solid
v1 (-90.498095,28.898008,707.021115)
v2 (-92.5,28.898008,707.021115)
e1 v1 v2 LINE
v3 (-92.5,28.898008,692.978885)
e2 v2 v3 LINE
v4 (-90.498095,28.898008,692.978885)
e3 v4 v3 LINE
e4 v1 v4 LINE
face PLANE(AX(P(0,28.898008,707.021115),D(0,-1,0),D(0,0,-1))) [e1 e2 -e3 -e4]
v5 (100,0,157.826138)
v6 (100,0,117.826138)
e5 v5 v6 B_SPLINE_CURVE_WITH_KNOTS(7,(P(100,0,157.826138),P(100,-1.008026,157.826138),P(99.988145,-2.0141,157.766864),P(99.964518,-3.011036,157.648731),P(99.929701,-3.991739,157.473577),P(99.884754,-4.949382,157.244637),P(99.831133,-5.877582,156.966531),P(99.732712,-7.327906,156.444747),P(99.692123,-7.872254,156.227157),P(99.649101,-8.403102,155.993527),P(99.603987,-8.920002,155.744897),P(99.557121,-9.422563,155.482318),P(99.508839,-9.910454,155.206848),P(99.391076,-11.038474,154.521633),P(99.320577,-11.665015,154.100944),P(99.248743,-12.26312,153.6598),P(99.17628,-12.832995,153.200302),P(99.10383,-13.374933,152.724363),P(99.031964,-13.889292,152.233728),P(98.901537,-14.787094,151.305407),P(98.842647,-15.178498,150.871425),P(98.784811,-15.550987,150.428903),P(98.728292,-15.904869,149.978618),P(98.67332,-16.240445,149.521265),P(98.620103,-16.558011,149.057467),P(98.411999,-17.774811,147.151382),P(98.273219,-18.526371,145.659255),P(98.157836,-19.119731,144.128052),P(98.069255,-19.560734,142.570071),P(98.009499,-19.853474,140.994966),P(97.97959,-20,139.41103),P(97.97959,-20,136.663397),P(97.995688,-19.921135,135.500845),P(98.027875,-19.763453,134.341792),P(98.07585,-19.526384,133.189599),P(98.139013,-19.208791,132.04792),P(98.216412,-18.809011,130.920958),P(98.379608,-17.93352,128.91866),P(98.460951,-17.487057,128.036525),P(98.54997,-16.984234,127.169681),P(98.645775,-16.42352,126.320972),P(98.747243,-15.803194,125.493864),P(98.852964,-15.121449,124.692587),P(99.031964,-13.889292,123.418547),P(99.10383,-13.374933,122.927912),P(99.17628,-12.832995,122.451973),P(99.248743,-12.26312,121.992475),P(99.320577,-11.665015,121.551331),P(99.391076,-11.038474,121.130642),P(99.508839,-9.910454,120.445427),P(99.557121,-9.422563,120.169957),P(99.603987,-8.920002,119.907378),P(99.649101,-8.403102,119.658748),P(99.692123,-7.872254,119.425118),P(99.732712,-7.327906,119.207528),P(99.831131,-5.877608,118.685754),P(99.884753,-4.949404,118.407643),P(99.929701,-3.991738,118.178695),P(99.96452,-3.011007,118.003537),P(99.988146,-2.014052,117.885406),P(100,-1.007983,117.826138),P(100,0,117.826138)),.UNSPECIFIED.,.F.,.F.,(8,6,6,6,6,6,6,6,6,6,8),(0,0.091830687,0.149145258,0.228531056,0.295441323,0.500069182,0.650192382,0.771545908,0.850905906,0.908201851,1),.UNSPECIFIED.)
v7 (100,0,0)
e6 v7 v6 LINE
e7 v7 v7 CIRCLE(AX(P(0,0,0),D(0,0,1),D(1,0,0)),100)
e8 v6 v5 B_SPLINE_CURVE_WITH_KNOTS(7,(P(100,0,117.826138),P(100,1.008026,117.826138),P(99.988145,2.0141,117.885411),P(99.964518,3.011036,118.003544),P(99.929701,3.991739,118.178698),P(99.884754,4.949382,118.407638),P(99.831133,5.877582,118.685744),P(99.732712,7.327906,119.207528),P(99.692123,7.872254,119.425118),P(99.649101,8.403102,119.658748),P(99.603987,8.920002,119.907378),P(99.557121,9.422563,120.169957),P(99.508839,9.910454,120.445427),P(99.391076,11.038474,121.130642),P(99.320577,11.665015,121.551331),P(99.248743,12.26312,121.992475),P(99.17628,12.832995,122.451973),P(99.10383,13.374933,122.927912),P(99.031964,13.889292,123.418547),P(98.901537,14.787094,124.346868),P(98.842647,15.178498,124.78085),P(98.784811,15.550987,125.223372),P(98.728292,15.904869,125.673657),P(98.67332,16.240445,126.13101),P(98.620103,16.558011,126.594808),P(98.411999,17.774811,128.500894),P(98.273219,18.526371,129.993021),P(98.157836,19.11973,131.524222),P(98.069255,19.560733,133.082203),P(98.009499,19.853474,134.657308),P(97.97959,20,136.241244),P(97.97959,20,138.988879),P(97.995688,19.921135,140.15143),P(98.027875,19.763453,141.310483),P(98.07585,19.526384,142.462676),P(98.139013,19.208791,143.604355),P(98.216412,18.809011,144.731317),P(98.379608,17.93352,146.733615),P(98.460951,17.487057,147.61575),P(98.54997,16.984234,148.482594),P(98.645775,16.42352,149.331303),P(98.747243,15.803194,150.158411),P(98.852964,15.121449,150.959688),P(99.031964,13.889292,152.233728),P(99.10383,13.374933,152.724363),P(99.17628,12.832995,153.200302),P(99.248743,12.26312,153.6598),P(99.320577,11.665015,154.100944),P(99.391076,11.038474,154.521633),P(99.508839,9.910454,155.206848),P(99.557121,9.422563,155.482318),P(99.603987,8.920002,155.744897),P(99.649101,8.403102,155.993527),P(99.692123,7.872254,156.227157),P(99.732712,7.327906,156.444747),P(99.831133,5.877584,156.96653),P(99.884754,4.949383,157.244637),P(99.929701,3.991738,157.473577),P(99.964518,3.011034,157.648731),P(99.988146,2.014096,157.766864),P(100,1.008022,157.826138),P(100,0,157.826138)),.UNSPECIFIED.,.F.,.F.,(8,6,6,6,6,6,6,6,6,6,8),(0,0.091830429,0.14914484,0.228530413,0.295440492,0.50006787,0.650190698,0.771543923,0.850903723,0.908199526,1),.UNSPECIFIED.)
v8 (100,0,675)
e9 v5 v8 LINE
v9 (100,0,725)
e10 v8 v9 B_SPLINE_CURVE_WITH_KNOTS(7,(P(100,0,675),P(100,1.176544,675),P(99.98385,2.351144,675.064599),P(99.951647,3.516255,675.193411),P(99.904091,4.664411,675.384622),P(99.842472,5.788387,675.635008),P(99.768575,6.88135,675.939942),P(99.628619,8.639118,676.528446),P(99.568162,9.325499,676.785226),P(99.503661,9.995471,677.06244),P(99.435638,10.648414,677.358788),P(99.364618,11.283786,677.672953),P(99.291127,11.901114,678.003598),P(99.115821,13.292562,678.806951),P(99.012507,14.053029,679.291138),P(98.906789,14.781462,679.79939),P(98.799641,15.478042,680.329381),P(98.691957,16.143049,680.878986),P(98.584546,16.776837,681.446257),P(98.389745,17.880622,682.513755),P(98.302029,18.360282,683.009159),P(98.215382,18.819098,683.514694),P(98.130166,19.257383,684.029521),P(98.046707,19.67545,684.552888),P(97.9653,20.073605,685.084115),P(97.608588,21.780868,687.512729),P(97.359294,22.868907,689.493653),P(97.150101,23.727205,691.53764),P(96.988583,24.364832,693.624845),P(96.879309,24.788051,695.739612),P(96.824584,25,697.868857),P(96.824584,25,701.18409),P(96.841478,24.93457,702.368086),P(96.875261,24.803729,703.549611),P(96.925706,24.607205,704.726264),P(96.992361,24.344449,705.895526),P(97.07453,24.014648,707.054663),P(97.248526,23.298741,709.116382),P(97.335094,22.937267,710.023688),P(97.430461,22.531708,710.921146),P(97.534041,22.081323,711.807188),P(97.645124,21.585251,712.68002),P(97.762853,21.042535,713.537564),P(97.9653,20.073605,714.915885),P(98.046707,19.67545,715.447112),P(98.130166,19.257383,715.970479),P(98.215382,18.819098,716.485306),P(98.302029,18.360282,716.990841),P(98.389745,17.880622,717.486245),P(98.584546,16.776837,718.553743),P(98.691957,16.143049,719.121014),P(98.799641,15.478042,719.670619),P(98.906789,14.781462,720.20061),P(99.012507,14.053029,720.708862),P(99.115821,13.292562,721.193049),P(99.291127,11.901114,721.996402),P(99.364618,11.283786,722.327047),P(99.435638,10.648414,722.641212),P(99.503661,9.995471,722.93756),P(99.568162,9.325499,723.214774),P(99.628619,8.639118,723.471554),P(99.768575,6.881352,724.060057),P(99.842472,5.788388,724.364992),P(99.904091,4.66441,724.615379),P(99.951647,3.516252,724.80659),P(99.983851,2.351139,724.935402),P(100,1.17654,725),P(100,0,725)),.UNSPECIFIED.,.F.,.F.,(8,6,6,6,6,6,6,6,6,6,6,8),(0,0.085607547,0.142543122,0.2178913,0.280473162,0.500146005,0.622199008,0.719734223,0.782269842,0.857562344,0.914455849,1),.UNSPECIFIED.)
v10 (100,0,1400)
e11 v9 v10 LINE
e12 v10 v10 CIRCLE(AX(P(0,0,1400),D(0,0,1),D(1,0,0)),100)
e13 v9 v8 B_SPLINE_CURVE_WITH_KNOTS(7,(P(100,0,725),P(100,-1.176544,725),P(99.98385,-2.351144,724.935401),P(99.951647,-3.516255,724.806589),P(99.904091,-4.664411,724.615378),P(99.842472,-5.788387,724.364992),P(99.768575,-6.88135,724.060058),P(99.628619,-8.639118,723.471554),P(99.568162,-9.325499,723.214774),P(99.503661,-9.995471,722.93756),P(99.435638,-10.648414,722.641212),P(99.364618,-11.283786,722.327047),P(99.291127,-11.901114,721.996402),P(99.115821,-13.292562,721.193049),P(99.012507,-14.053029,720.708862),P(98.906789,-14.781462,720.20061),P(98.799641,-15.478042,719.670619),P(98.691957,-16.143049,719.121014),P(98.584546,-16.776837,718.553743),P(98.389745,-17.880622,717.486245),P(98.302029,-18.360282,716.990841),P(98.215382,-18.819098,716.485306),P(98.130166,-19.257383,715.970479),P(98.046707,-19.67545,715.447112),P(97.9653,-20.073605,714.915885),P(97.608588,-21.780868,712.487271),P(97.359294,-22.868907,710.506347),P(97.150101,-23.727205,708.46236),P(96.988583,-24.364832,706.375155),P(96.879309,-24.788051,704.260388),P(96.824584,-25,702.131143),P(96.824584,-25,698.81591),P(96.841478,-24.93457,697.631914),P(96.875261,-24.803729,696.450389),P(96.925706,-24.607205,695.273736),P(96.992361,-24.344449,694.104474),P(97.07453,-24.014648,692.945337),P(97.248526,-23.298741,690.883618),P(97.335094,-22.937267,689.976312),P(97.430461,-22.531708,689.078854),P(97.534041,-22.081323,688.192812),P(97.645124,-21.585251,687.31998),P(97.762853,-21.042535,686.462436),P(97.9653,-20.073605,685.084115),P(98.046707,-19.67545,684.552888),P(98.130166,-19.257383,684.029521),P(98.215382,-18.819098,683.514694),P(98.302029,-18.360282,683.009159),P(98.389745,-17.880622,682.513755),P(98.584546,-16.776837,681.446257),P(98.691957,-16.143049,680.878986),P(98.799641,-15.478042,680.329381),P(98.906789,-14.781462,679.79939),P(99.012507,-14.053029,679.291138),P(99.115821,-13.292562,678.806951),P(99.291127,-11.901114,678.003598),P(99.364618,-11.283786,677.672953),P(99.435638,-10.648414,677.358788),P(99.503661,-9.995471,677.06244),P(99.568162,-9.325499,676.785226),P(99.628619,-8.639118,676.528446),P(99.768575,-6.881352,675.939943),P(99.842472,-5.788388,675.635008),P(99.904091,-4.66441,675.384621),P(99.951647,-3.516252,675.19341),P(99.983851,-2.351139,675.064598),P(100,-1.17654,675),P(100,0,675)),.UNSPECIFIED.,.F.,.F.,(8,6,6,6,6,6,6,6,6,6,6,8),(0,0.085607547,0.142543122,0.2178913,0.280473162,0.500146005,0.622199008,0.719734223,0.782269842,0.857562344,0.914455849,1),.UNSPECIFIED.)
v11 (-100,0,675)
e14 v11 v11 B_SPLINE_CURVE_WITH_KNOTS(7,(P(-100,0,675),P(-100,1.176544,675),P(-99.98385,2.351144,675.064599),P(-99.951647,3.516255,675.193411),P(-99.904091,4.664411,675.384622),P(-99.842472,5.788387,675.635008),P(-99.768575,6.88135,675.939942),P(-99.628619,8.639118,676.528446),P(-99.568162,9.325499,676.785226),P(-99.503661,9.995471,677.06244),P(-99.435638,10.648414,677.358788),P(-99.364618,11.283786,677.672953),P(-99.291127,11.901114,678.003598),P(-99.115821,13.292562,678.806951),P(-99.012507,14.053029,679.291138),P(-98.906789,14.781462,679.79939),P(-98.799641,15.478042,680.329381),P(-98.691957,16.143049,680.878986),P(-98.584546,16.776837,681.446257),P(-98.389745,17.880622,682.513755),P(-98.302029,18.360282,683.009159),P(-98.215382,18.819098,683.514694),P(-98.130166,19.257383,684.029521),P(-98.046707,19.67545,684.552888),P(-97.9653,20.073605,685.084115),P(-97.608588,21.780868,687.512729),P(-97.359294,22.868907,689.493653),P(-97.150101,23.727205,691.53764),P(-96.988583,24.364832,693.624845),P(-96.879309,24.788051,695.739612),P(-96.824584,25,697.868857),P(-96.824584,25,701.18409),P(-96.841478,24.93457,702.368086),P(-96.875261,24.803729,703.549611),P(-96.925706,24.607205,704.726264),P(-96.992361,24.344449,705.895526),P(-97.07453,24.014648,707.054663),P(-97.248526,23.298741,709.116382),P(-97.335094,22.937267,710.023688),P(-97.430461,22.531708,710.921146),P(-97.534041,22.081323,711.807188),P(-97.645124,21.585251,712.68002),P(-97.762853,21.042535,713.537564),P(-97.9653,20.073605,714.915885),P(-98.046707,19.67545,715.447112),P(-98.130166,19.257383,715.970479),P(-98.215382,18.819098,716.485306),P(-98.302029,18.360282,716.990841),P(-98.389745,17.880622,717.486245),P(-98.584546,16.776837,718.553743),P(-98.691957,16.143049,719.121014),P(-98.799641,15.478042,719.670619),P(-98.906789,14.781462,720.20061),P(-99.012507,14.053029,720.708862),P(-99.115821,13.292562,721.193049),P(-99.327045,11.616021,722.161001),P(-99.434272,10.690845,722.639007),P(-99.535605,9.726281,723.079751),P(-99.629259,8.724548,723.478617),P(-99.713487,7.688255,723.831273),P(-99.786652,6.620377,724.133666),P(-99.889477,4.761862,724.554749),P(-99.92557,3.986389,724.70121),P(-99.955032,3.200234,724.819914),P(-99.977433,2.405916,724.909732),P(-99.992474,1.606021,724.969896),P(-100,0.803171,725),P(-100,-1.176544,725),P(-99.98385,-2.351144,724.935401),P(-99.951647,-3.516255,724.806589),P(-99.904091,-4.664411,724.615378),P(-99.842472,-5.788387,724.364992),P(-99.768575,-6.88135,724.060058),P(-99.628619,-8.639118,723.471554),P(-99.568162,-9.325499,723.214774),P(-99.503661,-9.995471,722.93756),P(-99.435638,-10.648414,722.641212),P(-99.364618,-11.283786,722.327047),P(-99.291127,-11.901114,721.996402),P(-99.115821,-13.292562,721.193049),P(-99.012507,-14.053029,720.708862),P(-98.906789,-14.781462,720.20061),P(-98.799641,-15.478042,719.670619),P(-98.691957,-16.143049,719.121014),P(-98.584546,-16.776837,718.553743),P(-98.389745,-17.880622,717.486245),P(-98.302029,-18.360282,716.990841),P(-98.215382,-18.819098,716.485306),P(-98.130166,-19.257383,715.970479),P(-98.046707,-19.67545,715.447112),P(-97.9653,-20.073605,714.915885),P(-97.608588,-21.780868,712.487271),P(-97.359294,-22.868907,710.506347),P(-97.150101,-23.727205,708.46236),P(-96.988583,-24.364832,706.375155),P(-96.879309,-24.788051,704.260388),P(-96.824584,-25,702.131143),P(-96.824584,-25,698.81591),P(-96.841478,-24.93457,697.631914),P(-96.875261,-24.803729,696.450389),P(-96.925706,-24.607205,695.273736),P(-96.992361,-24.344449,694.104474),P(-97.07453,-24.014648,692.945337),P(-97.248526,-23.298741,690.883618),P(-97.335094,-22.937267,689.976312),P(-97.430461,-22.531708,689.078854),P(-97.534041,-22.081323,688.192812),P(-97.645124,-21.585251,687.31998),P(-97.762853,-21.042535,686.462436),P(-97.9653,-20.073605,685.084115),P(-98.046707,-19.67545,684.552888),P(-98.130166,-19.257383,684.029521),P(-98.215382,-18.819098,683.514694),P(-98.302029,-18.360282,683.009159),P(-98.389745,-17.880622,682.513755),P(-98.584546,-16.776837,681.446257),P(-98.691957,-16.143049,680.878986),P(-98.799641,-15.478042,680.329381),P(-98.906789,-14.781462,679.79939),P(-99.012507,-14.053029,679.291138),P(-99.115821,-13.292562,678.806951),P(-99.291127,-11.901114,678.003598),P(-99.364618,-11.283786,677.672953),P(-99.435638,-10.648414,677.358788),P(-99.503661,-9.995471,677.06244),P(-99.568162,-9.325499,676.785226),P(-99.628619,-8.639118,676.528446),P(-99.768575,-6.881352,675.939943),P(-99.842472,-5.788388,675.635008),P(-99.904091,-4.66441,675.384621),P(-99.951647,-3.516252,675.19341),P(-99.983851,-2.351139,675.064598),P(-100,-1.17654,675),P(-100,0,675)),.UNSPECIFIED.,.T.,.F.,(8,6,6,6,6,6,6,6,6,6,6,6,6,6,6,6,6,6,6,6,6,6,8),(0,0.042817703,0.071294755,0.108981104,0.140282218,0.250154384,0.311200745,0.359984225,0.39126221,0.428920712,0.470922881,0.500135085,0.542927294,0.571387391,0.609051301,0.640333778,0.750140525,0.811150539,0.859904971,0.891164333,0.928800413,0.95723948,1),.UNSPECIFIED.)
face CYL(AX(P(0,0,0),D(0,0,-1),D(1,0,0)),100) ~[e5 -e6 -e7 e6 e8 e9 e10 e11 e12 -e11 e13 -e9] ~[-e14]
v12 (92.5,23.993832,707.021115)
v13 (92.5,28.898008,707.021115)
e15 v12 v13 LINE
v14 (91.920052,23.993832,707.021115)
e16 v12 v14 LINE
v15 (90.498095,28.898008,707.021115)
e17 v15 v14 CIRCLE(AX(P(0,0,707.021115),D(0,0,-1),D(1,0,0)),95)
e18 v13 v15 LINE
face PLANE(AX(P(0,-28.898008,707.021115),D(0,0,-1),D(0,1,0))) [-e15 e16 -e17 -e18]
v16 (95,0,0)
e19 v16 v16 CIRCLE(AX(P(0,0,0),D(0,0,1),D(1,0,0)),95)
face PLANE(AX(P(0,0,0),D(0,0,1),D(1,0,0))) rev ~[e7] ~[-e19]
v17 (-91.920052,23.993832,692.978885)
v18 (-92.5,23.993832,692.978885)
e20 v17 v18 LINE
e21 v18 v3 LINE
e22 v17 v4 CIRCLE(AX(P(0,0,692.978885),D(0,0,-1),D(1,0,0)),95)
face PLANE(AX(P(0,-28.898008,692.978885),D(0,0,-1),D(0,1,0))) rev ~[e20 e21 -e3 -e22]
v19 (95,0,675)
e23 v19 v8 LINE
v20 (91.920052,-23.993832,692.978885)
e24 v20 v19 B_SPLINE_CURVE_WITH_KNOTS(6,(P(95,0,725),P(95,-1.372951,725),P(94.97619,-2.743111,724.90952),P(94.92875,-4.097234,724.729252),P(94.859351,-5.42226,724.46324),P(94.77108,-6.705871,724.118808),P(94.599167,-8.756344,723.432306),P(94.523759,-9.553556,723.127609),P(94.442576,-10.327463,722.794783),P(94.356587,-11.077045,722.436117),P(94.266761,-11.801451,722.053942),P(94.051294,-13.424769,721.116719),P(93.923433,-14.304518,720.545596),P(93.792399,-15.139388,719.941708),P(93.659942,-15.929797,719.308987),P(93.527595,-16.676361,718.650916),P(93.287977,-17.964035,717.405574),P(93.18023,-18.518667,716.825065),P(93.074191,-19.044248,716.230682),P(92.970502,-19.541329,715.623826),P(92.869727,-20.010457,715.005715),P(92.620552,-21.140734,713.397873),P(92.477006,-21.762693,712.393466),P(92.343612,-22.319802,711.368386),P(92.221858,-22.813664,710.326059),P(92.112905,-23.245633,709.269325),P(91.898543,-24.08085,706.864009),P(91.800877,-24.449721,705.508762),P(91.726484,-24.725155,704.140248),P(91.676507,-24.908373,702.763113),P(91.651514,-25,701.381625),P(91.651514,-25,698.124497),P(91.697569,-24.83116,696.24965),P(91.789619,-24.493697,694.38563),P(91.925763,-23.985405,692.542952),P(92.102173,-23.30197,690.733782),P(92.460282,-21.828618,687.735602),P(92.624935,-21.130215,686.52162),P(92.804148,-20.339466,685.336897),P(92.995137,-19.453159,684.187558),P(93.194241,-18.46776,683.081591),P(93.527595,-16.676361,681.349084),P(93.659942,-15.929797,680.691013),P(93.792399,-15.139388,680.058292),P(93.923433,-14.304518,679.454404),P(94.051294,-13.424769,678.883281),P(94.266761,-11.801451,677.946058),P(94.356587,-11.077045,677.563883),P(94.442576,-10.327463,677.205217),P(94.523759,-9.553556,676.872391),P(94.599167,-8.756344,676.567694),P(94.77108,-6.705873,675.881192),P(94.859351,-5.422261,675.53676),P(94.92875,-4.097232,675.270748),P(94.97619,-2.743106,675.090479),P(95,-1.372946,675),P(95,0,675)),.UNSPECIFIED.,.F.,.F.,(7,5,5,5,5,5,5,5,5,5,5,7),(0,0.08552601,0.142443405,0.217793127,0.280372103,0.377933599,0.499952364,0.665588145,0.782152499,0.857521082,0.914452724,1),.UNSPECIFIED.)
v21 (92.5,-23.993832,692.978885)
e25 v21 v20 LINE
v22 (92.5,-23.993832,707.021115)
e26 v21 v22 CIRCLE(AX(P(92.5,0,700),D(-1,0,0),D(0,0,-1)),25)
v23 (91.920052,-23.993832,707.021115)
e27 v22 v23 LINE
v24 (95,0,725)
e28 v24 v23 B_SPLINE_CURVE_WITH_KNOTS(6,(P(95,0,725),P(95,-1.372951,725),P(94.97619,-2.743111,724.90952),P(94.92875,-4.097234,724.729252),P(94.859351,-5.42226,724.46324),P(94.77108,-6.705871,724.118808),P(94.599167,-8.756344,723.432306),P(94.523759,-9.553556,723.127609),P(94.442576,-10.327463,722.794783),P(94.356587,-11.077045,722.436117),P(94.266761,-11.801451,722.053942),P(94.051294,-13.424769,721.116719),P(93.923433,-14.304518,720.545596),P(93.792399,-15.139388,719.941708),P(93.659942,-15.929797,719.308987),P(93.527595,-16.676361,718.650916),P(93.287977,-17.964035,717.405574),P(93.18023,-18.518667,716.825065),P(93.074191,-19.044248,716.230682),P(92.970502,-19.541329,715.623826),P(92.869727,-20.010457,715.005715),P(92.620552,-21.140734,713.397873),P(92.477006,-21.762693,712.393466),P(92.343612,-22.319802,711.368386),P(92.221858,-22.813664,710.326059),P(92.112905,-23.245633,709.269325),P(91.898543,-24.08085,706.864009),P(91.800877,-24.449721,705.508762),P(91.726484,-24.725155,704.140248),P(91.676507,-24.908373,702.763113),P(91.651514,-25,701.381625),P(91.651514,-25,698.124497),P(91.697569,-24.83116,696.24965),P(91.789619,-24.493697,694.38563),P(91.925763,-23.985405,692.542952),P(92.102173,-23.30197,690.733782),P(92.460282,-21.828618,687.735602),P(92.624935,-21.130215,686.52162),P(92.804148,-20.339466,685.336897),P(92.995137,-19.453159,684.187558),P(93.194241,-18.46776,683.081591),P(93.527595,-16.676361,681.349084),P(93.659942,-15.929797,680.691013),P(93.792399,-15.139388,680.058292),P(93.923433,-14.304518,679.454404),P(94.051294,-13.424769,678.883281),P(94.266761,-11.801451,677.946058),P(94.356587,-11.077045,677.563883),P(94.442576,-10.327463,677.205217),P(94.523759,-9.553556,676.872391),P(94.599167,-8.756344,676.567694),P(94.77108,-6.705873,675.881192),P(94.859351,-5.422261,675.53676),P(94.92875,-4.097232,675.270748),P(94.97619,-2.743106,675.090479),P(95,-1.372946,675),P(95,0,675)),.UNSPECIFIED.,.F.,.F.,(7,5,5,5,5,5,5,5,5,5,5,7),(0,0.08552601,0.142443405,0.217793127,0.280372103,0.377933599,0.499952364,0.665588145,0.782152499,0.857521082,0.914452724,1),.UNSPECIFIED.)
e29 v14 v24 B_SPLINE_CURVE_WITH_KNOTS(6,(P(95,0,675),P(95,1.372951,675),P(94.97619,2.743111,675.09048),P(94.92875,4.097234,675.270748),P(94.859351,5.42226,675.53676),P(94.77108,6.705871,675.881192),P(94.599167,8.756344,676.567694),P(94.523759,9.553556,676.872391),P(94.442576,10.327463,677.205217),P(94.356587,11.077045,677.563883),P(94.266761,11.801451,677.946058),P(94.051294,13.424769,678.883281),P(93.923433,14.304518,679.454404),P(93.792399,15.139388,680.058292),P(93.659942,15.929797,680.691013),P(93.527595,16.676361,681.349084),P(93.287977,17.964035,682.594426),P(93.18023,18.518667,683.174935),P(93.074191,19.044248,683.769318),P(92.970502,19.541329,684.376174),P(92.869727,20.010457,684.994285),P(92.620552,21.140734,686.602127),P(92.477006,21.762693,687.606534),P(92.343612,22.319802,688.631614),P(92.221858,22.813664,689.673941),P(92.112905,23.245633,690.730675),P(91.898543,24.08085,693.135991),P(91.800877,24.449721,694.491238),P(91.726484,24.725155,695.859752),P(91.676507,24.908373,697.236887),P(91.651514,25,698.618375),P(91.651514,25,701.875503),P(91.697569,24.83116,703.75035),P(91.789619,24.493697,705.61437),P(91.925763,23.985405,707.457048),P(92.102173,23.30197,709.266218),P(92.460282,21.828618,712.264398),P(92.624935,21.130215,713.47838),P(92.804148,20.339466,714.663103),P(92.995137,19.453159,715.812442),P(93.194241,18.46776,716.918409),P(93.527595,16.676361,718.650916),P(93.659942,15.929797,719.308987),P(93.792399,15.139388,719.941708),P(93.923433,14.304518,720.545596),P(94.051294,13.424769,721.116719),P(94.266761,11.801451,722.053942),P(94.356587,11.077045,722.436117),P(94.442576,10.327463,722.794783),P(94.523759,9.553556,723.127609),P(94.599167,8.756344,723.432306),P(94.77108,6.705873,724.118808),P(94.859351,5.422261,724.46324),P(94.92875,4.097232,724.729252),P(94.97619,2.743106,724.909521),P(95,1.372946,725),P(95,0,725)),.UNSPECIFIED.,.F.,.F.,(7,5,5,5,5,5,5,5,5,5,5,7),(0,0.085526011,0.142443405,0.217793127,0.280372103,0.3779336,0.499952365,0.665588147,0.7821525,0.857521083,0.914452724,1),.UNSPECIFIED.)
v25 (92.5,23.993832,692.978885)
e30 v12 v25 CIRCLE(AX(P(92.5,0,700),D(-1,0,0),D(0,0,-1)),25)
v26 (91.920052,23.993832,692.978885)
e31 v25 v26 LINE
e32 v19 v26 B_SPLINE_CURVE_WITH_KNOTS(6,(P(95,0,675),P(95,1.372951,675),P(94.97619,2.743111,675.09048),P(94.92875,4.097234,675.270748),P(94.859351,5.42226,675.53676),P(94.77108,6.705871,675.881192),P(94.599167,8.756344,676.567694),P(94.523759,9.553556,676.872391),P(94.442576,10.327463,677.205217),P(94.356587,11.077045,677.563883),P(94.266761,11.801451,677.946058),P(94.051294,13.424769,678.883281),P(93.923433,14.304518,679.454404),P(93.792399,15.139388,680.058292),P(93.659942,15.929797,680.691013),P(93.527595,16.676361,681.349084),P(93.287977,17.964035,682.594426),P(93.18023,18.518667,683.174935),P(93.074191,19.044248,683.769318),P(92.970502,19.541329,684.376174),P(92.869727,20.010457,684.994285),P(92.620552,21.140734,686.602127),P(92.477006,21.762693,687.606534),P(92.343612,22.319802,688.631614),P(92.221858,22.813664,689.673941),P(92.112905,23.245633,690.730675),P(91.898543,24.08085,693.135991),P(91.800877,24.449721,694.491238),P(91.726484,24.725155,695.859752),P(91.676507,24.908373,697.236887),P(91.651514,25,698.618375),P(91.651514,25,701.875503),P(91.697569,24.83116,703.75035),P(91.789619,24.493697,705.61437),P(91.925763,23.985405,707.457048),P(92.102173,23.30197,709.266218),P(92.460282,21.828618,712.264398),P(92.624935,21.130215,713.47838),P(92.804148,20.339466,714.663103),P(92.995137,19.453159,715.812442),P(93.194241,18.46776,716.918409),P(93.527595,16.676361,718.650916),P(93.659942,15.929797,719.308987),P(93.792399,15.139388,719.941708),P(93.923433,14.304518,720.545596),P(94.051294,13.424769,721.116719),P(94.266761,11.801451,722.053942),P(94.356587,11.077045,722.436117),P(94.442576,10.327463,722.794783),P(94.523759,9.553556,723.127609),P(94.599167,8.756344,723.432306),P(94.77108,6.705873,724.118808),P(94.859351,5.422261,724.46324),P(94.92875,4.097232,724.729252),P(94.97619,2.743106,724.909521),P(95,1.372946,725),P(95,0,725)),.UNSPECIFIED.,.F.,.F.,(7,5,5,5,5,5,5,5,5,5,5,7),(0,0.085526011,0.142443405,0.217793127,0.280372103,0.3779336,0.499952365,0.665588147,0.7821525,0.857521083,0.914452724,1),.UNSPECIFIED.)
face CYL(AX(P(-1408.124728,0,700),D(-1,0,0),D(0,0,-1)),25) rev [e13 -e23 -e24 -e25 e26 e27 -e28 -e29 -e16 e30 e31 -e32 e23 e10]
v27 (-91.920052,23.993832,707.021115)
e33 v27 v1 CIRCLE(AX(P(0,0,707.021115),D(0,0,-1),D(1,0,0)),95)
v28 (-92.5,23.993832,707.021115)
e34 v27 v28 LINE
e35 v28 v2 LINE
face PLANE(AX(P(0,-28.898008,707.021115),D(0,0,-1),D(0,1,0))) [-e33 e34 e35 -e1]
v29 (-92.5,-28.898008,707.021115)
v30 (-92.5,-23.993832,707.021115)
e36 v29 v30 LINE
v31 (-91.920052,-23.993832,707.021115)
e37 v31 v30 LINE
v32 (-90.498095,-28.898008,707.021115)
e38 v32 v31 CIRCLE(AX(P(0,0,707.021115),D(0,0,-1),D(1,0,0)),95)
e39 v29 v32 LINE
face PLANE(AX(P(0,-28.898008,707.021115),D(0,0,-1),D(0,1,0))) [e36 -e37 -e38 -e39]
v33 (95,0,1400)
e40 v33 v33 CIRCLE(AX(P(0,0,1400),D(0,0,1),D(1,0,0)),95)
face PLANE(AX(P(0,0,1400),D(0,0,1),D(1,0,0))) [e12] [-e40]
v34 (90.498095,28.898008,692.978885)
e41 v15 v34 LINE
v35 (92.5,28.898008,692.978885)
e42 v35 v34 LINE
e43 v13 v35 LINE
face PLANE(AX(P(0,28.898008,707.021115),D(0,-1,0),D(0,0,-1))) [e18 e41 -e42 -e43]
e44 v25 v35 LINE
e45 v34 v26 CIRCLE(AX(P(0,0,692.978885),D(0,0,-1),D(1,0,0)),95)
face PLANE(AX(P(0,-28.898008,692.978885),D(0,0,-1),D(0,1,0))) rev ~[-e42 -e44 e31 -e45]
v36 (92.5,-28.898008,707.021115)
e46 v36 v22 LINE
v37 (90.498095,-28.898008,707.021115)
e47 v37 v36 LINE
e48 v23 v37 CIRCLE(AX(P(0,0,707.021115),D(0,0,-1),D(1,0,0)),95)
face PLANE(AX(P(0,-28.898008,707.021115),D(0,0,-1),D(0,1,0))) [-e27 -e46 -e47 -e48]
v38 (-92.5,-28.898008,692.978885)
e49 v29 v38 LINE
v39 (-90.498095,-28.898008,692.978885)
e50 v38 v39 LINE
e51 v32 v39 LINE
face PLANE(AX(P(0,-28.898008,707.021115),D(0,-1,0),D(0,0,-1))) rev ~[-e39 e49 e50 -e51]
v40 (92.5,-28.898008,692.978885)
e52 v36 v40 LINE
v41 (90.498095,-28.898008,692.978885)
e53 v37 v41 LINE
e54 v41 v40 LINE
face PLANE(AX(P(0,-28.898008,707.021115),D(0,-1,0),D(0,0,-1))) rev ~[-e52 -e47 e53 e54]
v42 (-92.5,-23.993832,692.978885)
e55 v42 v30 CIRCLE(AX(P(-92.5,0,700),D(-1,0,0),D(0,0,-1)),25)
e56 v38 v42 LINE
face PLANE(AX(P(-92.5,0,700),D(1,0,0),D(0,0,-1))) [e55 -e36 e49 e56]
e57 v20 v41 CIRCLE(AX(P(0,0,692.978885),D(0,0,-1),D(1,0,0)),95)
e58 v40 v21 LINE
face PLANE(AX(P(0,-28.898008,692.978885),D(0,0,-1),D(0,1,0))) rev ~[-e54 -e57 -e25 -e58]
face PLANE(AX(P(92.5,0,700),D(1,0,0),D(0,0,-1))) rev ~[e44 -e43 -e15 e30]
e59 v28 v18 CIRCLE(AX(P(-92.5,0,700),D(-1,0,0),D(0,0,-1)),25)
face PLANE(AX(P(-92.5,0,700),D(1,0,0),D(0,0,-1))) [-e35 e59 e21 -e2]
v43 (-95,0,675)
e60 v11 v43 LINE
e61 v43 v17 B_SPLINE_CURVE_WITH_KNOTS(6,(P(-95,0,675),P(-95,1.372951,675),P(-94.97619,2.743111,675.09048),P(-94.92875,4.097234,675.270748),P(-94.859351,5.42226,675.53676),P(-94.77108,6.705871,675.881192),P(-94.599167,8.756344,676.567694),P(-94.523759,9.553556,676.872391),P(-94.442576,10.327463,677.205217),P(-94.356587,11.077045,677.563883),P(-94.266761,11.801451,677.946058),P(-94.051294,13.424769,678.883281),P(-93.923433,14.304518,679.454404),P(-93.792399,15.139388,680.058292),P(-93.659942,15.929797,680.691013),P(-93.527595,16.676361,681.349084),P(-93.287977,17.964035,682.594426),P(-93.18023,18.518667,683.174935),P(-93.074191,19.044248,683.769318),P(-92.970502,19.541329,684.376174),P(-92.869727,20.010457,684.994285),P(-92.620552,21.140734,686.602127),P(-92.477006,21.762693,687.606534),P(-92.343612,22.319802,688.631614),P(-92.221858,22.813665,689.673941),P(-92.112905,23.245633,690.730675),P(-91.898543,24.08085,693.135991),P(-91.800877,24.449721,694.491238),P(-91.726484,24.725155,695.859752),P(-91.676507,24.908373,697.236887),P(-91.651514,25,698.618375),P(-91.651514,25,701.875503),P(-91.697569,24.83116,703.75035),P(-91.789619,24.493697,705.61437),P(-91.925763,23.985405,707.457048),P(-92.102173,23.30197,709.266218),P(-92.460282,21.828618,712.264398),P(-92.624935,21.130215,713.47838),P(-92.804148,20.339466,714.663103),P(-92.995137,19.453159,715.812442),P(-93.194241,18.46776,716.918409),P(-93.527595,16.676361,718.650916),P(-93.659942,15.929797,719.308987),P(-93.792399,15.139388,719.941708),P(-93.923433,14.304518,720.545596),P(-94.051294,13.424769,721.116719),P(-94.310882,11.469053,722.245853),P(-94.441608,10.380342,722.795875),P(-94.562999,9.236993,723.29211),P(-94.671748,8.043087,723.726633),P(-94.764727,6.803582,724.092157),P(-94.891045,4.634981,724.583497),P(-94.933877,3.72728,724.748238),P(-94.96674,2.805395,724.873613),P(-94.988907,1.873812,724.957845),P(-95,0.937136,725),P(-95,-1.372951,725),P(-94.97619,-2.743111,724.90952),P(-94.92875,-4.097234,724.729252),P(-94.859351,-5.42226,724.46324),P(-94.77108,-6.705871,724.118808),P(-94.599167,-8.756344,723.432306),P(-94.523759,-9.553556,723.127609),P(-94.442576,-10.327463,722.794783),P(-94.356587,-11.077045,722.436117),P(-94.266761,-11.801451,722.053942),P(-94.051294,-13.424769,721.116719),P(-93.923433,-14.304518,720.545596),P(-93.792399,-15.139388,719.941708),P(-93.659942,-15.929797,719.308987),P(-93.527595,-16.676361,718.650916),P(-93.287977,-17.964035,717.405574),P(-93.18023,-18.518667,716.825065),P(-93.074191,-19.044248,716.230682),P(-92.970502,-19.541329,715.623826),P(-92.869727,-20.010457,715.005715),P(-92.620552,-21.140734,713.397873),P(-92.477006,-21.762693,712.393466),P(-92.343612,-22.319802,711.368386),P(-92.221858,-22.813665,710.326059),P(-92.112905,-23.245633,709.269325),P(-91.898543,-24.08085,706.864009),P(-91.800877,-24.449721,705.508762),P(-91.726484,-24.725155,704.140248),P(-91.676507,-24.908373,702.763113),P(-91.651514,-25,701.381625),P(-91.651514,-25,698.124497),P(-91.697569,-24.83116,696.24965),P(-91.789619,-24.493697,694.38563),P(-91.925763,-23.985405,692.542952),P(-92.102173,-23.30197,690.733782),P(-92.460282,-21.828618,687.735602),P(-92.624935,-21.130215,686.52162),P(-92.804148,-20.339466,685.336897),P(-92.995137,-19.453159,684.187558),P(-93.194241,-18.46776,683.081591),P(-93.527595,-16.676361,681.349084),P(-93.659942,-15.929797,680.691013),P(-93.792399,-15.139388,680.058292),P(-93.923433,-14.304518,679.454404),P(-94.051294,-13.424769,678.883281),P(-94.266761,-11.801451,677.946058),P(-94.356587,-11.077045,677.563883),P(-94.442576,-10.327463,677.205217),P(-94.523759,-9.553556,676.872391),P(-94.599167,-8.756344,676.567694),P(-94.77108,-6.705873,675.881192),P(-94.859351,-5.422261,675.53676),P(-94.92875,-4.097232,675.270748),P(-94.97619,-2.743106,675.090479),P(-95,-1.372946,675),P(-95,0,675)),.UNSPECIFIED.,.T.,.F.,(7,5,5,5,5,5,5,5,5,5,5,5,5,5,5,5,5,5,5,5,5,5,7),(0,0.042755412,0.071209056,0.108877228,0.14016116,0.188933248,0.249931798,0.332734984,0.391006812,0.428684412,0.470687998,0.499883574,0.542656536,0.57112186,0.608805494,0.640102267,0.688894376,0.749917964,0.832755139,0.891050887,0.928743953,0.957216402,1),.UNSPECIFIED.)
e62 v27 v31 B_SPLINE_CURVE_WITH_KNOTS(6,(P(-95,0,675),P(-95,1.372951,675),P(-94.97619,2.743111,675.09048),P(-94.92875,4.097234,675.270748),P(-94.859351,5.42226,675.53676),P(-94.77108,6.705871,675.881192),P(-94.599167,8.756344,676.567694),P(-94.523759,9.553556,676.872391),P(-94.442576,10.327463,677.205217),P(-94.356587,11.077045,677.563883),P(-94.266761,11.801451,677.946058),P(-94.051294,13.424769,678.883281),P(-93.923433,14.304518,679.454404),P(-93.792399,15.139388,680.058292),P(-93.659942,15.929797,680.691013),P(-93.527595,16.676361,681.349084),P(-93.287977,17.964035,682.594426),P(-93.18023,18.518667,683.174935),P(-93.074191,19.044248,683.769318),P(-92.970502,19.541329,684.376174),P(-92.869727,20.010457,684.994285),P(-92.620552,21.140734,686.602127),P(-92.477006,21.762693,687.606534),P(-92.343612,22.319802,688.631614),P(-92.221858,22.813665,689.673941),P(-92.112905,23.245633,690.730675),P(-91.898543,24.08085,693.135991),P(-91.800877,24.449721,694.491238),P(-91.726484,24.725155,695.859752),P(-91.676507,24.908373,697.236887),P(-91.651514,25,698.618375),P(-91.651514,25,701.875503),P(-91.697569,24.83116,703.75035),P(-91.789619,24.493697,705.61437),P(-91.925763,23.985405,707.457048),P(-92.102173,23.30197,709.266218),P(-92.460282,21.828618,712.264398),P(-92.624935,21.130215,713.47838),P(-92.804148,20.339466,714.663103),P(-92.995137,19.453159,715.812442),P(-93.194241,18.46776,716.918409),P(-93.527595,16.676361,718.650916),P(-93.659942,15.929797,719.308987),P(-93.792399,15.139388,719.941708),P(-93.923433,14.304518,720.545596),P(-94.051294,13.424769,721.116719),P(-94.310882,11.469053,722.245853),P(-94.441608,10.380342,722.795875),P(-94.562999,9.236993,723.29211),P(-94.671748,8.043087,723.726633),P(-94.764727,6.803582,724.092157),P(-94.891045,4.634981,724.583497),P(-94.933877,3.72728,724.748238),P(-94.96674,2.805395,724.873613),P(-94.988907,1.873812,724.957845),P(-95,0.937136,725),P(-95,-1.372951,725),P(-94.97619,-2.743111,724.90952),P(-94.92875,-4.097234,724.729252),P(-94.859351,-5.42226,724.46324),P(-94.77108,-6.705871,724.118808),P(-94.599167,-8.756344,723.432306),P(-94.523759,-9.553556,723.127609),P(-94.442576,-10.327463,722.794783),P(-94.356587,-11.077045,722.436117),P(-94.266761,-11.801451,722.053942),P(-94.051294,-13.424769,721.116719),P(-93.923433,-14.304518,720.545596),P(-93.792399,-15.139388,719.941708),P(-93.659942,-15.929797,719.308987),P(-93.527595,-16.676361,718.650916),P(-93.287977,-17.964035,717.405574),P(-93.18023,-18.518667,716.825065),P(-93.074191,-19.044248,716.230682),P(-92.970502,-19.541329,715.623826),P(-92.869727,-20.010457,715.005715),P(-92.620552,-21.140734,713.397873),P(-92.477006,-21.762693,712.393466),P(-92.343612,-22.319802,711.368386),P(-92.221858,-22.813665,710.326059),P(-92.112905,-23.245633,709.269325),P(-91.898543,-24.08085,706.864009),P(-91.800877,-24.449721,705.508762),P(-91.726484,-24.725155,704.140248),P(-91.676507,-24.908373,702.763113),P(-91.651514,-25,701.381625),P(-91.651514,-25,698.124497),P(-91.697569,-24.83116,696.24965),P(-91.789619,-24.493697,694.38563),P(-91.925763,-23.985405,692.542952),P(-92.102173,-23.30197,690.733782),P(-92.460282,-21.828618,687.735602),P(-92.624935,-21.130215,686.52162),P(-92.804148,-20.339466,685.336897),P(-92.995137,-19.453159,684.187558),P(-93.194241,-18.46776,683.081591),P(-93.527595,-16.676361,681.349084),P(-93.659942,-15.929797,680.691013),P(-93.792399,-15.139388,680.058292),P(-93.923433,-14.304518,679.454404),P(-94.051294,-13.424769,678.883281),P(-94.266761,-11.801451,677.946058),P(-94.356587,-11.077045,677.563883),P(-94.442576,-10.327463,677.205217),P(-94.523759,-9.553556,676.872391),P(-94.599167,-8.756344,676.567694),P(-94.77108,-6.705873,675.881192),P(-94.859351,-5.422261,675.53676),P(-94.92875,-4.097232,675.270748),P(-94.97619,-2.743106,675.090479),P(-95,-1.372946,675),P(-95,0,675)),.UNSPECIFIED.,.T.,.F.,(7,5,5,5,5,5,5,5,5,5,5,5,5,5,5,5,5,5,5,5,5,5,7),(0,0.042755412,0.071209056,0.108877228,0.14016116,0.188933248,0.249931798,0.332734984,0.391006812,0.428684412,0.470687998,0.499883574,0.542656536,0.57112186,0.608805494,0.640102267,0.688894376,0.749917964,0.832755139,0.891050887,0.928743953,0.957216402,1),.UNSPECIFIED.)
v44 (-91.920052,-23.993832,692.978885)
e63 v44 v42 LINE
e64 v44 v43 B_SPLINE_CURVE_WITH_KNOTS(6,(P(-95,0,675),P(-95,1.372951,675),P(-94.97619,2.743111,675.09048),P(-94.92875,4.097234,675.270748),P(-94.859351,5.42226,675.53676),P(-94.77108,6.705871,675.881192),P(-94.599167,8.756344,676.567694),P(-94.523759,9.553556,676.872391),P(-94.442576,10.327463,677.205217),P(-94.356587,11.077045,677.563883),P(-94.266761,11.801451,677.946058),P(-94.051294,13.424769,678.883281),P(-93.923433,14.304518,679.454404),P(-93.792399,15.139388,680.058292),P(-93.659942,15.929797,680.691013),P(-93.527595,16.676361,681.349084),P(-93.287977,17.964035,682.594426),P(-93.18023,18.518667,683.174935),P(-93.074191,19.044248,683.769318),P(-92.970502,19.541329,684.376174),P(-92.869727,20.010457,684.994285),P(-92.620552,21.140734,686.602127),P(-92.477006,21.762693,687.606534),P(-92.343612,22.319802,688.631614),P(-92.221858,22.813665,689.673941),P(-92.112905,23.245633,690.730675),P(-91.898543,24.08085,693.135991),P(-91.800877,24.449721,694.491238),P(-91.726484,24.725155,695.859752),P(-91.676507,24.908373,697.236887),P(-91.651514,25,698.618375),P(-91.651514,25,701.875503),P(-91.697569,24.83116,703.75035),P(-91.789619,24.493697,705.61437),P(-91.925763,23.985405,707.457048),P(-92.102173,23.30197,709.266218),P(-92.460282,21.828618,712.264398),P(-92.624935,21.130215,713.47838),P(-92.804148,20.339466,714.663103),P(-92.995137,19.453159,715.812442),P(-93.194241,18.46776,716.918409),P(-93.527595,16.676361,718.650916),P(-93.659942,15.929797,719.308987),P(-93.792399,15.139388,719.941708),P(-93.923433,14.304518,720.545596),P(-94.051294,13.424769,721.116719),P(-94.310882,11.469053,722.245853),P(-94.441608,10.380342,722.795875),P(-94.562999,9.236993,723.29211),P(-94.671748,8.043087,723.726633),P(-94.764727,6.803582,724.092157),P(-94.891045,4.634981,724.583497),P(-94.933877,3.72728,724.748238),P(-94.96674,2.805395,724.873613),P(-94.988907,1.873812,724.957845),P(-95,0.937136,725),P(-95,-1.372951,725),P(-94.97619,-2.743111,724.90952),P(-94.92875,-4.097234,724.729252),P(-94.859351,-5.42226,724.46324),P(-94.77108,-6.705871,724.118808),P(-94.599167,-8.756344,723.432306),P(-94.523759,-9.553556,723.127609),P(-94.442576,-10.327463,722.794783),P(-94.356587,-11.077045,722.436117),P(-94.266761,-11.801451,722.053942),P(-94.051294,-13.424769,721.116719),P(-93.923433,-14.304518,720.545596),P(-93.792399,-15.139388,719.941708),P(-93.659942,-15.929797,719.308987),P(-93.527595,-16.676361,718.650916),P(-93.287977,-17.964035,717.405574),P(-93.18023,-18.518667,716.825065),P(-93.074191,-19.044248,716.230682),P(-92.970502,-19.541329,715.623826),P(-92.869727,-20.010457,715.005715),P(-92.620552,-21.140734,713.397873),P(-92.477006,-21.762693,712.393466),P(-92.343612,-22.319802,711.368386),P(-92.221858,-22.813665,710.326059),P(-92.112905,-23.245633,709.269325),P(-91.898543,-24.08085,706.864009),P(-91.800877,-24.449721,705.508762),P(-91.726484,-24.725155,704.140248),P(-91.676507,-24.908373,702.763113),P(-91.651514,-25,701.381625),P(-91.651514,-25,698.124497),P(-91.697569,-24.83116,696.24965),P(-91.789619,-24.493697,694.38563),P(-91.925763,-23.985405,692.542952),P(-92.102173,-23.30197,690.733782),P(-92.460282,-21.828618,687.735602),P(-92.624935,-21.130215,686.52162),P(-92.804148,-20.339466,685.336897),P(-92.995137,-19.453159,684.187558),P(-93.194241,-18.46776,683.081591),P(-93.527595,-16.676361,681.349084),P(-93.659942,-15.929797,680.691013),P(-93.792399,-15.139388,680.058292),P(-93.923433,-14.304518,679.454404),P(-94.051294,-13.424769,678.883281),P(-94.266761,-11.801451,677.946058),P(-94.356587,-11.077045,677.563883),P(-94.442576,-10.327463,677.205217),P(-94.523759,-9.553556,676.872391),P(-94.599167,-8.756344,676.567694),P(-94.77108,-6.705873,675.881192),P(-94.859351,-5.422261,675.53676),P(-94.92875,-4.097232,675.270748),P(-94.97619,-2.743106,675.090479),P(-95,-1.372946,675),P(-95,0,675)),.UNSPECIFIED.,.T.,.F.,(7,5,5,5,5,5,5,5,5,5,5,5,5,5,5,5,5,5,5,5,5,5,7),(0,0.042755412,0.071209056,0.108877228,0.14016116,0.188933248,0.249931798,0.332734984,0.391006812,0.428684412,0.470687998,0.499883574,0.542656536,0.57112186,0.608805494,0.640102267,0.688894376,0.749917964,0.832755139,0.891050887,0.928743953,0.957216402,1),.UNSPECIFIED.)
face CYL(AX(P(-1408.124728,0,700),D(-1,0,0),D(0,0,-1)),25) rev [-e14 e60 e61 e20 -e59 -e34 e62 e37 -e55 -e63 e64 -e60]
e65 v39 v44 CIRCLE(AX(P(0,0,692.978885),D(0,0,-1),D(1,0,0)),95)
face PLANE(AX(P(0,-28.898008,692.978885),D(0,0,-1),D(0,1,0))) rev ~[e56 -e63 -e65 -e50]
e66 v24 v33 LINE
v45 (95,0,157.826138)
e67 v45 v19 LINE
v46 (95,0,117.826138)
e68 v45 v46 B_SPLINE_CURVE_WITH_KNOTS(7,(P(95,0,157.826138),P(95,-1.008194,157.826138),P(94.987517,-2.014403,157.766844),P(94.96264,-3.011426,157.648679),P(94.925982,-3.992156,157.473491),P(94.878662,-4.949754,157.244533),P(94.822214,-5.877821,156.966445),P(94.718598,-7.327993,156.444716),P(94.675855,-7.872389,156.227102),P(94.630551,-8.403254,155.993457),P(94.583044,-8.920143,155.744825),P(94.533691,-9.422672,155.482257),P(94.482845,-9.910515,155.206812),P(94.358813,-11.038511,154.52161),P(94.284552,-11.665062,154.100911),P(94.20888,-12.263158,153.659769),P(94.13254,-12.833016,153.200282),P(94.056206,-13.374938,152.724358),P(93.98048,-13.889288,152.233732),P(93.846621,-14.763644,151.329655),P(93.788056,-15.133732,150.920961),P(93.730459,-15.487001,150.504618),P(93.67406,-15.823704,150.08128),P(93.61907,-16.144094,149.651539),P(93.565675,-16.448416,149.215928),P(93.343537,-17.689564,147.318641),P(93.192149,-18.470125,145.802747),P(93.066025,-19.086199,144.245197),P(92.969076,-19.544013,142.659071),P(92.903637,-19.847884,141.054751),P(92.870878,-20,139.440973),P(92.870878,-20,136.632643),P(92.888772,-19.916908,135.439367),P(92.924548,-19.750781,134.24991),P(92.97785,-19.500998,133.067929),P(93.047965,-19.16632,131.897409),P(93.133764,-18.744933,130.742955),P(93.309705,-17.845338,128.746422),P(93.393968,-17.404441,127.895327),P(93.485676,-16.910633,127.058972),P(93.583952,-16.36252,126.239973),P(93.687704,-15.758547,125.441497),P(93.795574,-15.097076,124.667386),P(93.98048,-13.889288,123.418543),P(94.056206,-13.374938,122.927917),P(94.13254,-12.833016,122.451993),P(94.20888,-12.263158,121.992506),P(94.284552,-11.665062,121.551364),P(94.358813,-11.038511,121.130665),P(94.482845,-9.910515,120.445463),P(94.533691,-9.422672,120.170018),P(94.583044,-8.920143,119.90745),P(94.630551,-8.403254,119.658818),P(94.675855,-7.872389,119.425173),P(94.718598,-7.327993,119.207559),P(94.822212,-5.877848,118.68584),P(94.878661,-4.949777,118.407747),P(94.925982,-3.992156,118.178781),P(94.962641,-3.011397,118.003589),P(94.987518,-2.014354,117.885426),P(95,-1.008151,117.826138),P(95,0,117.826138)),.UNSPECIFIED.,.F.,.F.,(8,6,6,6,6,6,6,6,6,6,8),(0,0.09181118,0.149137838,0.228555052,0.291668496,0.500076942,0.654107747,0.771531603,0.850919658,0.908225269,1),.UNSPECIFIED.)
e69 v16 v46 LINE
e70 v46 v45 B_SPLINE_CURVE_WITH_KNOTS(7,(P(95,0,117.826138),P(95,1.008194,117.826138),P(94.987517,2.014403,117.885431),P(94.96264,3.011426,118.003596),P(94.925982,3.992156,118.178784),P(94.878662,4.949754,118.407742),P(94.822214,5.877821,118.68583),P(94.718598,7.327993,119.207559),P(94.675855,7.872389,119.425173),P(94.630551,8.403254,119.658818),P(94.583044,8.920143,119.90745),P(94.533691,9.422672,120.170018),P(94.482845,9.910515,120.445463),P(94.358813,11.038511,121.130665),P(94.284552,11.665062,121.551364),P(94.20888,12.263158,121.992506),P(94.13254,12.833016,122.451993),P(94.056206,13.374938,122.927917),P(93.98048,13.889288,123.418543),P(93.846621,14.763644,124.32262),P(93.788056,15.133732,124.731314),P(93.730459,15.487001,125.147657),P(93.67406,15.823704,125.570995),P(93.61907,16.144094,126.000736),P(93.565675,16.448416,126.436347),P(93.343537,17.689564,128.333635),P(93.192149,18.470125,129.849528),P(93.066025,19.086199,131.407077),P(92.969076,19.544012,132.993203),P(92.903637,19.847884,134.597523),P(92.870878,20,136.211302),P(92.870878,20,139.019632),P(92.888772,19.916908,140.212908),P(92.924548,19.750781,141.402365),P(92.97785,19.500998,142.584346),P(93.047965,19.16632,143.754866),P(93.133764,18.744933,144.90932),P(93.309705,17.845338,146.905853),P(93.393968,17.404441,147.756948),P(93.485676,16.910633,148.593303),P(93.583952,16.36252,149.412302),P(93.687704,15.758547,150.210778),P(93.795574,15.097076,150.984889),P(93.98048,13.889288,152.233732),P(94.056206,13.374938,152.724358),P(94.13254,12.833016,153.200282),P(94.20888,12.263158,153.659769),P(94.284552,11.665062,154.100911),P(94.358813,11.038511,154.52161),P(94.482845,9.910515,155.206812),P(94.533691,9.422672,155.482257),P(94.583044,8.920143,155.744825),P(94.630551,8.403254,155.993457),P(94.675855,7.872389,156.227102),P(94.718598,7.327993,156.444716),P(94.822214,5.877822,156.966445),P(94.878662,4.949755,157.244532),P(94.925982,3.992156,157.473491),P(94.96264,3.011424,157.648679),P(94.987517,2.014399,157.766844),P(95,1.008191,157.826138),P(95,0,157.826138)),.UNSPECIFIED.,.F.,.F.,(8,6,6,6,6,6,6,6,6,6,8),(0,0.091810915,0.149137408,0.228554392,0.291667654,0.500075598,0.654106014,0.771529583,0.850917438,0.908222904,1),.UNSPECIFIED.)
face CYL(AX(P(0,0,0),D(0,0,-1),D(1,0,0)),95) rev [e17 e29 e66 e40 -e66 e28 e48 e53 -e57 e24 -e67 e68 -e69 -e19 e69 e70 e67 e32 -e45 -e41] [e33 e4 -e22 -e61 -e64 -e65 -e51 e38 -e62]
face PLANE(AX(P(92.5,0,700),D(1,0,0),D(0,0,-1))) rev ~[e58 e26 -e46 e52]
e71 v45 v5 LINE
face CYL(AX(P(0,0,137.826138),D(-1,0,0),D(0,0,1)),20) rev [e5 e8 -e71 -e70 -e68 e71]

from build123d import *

# Parameters (mm, degrees)
ESBO_O2_R                  = 100
ESBO_O2_R_2                = 95
RESSALTO_EXTRUS_O2_DEPTH   = 1400
CORTE_EXTRUS_O1_DEPTH      = 1408.124727947
CORTE_EXTRUS_O1_DEPTH_BACK = 1408.124727947
ESBO_O3_R                  = 25
ESBO_O4_W                  = 14.042229064
ESBO_O4_H                  = 57.796016078
CORTE_EXTRUS_O2_DEPTH      = 92.5
ESBO_O5_R                  = 20
CORTE_EXTRUS_O3_DEPTH      = 185


with BuildPart() as part:
    # Esboço2 → Ressalto-extrusão2 (new body)
    with BuildSketch(Plane.XY):
        Circle(ESBO_O2_R)
        Circle(ESBO_O2_R_2, mode=Mode.SUBTRACT)
    extrude(amount=RESSALTO_EXTRUS_O2_DEPTH)

    # Esboço3 → Corte-extrusão1 (cut, two sides: drawn at the far end of the back side and taken through both)
    with BuildSketch(Plane(origin=(0, 0, 0), x_dir=(0, 0, -1), z_dir=(1, 0, 0)).offset(-CORTE_EXTRUS_O1_DEPTH_BACK)):
        with Locations((-700, 0)):
            Circle(ESBO_O3_R)
    extrude(amount=CORTE_EXTRUS_O1_DEPTH + CORTE_EXTRUS_O1_DEPTH_BACK, mode=Mode.SUBTRACT)

    # Esboço4 → Corte-extrusão2 (cut, symmetric)
    with BuildSketch(Plane(origin=(0, 0, 0), x_dir=(0, 0, -1), z_dir=(1, 0, 0))):
        with Locations((-700, 0)):
            Rectangle(ESBO_O4_W, ESBO_O4_H)
    extrude(amount=CORTE_EXTRUS_O2_DEPTH, both=True, mode=Mode.SUBTRACT)

    # Esboço5 → Corte-extrusão3 (cut)
    with BuildSketch(Plane(origin=(0, 0, 0), x_dir=(0, 0, -1), z_dir=(1, 0, 0))):
        with Locations(Location((-137.826137531, 0, 0), (0, 0, 180))):
            Circle(ESBO_O5_R)
    extrude(amount=CORTE_EXTRUS_O3_DEPTH, mode=Mode.SUBTRACT)


solid = part.part
